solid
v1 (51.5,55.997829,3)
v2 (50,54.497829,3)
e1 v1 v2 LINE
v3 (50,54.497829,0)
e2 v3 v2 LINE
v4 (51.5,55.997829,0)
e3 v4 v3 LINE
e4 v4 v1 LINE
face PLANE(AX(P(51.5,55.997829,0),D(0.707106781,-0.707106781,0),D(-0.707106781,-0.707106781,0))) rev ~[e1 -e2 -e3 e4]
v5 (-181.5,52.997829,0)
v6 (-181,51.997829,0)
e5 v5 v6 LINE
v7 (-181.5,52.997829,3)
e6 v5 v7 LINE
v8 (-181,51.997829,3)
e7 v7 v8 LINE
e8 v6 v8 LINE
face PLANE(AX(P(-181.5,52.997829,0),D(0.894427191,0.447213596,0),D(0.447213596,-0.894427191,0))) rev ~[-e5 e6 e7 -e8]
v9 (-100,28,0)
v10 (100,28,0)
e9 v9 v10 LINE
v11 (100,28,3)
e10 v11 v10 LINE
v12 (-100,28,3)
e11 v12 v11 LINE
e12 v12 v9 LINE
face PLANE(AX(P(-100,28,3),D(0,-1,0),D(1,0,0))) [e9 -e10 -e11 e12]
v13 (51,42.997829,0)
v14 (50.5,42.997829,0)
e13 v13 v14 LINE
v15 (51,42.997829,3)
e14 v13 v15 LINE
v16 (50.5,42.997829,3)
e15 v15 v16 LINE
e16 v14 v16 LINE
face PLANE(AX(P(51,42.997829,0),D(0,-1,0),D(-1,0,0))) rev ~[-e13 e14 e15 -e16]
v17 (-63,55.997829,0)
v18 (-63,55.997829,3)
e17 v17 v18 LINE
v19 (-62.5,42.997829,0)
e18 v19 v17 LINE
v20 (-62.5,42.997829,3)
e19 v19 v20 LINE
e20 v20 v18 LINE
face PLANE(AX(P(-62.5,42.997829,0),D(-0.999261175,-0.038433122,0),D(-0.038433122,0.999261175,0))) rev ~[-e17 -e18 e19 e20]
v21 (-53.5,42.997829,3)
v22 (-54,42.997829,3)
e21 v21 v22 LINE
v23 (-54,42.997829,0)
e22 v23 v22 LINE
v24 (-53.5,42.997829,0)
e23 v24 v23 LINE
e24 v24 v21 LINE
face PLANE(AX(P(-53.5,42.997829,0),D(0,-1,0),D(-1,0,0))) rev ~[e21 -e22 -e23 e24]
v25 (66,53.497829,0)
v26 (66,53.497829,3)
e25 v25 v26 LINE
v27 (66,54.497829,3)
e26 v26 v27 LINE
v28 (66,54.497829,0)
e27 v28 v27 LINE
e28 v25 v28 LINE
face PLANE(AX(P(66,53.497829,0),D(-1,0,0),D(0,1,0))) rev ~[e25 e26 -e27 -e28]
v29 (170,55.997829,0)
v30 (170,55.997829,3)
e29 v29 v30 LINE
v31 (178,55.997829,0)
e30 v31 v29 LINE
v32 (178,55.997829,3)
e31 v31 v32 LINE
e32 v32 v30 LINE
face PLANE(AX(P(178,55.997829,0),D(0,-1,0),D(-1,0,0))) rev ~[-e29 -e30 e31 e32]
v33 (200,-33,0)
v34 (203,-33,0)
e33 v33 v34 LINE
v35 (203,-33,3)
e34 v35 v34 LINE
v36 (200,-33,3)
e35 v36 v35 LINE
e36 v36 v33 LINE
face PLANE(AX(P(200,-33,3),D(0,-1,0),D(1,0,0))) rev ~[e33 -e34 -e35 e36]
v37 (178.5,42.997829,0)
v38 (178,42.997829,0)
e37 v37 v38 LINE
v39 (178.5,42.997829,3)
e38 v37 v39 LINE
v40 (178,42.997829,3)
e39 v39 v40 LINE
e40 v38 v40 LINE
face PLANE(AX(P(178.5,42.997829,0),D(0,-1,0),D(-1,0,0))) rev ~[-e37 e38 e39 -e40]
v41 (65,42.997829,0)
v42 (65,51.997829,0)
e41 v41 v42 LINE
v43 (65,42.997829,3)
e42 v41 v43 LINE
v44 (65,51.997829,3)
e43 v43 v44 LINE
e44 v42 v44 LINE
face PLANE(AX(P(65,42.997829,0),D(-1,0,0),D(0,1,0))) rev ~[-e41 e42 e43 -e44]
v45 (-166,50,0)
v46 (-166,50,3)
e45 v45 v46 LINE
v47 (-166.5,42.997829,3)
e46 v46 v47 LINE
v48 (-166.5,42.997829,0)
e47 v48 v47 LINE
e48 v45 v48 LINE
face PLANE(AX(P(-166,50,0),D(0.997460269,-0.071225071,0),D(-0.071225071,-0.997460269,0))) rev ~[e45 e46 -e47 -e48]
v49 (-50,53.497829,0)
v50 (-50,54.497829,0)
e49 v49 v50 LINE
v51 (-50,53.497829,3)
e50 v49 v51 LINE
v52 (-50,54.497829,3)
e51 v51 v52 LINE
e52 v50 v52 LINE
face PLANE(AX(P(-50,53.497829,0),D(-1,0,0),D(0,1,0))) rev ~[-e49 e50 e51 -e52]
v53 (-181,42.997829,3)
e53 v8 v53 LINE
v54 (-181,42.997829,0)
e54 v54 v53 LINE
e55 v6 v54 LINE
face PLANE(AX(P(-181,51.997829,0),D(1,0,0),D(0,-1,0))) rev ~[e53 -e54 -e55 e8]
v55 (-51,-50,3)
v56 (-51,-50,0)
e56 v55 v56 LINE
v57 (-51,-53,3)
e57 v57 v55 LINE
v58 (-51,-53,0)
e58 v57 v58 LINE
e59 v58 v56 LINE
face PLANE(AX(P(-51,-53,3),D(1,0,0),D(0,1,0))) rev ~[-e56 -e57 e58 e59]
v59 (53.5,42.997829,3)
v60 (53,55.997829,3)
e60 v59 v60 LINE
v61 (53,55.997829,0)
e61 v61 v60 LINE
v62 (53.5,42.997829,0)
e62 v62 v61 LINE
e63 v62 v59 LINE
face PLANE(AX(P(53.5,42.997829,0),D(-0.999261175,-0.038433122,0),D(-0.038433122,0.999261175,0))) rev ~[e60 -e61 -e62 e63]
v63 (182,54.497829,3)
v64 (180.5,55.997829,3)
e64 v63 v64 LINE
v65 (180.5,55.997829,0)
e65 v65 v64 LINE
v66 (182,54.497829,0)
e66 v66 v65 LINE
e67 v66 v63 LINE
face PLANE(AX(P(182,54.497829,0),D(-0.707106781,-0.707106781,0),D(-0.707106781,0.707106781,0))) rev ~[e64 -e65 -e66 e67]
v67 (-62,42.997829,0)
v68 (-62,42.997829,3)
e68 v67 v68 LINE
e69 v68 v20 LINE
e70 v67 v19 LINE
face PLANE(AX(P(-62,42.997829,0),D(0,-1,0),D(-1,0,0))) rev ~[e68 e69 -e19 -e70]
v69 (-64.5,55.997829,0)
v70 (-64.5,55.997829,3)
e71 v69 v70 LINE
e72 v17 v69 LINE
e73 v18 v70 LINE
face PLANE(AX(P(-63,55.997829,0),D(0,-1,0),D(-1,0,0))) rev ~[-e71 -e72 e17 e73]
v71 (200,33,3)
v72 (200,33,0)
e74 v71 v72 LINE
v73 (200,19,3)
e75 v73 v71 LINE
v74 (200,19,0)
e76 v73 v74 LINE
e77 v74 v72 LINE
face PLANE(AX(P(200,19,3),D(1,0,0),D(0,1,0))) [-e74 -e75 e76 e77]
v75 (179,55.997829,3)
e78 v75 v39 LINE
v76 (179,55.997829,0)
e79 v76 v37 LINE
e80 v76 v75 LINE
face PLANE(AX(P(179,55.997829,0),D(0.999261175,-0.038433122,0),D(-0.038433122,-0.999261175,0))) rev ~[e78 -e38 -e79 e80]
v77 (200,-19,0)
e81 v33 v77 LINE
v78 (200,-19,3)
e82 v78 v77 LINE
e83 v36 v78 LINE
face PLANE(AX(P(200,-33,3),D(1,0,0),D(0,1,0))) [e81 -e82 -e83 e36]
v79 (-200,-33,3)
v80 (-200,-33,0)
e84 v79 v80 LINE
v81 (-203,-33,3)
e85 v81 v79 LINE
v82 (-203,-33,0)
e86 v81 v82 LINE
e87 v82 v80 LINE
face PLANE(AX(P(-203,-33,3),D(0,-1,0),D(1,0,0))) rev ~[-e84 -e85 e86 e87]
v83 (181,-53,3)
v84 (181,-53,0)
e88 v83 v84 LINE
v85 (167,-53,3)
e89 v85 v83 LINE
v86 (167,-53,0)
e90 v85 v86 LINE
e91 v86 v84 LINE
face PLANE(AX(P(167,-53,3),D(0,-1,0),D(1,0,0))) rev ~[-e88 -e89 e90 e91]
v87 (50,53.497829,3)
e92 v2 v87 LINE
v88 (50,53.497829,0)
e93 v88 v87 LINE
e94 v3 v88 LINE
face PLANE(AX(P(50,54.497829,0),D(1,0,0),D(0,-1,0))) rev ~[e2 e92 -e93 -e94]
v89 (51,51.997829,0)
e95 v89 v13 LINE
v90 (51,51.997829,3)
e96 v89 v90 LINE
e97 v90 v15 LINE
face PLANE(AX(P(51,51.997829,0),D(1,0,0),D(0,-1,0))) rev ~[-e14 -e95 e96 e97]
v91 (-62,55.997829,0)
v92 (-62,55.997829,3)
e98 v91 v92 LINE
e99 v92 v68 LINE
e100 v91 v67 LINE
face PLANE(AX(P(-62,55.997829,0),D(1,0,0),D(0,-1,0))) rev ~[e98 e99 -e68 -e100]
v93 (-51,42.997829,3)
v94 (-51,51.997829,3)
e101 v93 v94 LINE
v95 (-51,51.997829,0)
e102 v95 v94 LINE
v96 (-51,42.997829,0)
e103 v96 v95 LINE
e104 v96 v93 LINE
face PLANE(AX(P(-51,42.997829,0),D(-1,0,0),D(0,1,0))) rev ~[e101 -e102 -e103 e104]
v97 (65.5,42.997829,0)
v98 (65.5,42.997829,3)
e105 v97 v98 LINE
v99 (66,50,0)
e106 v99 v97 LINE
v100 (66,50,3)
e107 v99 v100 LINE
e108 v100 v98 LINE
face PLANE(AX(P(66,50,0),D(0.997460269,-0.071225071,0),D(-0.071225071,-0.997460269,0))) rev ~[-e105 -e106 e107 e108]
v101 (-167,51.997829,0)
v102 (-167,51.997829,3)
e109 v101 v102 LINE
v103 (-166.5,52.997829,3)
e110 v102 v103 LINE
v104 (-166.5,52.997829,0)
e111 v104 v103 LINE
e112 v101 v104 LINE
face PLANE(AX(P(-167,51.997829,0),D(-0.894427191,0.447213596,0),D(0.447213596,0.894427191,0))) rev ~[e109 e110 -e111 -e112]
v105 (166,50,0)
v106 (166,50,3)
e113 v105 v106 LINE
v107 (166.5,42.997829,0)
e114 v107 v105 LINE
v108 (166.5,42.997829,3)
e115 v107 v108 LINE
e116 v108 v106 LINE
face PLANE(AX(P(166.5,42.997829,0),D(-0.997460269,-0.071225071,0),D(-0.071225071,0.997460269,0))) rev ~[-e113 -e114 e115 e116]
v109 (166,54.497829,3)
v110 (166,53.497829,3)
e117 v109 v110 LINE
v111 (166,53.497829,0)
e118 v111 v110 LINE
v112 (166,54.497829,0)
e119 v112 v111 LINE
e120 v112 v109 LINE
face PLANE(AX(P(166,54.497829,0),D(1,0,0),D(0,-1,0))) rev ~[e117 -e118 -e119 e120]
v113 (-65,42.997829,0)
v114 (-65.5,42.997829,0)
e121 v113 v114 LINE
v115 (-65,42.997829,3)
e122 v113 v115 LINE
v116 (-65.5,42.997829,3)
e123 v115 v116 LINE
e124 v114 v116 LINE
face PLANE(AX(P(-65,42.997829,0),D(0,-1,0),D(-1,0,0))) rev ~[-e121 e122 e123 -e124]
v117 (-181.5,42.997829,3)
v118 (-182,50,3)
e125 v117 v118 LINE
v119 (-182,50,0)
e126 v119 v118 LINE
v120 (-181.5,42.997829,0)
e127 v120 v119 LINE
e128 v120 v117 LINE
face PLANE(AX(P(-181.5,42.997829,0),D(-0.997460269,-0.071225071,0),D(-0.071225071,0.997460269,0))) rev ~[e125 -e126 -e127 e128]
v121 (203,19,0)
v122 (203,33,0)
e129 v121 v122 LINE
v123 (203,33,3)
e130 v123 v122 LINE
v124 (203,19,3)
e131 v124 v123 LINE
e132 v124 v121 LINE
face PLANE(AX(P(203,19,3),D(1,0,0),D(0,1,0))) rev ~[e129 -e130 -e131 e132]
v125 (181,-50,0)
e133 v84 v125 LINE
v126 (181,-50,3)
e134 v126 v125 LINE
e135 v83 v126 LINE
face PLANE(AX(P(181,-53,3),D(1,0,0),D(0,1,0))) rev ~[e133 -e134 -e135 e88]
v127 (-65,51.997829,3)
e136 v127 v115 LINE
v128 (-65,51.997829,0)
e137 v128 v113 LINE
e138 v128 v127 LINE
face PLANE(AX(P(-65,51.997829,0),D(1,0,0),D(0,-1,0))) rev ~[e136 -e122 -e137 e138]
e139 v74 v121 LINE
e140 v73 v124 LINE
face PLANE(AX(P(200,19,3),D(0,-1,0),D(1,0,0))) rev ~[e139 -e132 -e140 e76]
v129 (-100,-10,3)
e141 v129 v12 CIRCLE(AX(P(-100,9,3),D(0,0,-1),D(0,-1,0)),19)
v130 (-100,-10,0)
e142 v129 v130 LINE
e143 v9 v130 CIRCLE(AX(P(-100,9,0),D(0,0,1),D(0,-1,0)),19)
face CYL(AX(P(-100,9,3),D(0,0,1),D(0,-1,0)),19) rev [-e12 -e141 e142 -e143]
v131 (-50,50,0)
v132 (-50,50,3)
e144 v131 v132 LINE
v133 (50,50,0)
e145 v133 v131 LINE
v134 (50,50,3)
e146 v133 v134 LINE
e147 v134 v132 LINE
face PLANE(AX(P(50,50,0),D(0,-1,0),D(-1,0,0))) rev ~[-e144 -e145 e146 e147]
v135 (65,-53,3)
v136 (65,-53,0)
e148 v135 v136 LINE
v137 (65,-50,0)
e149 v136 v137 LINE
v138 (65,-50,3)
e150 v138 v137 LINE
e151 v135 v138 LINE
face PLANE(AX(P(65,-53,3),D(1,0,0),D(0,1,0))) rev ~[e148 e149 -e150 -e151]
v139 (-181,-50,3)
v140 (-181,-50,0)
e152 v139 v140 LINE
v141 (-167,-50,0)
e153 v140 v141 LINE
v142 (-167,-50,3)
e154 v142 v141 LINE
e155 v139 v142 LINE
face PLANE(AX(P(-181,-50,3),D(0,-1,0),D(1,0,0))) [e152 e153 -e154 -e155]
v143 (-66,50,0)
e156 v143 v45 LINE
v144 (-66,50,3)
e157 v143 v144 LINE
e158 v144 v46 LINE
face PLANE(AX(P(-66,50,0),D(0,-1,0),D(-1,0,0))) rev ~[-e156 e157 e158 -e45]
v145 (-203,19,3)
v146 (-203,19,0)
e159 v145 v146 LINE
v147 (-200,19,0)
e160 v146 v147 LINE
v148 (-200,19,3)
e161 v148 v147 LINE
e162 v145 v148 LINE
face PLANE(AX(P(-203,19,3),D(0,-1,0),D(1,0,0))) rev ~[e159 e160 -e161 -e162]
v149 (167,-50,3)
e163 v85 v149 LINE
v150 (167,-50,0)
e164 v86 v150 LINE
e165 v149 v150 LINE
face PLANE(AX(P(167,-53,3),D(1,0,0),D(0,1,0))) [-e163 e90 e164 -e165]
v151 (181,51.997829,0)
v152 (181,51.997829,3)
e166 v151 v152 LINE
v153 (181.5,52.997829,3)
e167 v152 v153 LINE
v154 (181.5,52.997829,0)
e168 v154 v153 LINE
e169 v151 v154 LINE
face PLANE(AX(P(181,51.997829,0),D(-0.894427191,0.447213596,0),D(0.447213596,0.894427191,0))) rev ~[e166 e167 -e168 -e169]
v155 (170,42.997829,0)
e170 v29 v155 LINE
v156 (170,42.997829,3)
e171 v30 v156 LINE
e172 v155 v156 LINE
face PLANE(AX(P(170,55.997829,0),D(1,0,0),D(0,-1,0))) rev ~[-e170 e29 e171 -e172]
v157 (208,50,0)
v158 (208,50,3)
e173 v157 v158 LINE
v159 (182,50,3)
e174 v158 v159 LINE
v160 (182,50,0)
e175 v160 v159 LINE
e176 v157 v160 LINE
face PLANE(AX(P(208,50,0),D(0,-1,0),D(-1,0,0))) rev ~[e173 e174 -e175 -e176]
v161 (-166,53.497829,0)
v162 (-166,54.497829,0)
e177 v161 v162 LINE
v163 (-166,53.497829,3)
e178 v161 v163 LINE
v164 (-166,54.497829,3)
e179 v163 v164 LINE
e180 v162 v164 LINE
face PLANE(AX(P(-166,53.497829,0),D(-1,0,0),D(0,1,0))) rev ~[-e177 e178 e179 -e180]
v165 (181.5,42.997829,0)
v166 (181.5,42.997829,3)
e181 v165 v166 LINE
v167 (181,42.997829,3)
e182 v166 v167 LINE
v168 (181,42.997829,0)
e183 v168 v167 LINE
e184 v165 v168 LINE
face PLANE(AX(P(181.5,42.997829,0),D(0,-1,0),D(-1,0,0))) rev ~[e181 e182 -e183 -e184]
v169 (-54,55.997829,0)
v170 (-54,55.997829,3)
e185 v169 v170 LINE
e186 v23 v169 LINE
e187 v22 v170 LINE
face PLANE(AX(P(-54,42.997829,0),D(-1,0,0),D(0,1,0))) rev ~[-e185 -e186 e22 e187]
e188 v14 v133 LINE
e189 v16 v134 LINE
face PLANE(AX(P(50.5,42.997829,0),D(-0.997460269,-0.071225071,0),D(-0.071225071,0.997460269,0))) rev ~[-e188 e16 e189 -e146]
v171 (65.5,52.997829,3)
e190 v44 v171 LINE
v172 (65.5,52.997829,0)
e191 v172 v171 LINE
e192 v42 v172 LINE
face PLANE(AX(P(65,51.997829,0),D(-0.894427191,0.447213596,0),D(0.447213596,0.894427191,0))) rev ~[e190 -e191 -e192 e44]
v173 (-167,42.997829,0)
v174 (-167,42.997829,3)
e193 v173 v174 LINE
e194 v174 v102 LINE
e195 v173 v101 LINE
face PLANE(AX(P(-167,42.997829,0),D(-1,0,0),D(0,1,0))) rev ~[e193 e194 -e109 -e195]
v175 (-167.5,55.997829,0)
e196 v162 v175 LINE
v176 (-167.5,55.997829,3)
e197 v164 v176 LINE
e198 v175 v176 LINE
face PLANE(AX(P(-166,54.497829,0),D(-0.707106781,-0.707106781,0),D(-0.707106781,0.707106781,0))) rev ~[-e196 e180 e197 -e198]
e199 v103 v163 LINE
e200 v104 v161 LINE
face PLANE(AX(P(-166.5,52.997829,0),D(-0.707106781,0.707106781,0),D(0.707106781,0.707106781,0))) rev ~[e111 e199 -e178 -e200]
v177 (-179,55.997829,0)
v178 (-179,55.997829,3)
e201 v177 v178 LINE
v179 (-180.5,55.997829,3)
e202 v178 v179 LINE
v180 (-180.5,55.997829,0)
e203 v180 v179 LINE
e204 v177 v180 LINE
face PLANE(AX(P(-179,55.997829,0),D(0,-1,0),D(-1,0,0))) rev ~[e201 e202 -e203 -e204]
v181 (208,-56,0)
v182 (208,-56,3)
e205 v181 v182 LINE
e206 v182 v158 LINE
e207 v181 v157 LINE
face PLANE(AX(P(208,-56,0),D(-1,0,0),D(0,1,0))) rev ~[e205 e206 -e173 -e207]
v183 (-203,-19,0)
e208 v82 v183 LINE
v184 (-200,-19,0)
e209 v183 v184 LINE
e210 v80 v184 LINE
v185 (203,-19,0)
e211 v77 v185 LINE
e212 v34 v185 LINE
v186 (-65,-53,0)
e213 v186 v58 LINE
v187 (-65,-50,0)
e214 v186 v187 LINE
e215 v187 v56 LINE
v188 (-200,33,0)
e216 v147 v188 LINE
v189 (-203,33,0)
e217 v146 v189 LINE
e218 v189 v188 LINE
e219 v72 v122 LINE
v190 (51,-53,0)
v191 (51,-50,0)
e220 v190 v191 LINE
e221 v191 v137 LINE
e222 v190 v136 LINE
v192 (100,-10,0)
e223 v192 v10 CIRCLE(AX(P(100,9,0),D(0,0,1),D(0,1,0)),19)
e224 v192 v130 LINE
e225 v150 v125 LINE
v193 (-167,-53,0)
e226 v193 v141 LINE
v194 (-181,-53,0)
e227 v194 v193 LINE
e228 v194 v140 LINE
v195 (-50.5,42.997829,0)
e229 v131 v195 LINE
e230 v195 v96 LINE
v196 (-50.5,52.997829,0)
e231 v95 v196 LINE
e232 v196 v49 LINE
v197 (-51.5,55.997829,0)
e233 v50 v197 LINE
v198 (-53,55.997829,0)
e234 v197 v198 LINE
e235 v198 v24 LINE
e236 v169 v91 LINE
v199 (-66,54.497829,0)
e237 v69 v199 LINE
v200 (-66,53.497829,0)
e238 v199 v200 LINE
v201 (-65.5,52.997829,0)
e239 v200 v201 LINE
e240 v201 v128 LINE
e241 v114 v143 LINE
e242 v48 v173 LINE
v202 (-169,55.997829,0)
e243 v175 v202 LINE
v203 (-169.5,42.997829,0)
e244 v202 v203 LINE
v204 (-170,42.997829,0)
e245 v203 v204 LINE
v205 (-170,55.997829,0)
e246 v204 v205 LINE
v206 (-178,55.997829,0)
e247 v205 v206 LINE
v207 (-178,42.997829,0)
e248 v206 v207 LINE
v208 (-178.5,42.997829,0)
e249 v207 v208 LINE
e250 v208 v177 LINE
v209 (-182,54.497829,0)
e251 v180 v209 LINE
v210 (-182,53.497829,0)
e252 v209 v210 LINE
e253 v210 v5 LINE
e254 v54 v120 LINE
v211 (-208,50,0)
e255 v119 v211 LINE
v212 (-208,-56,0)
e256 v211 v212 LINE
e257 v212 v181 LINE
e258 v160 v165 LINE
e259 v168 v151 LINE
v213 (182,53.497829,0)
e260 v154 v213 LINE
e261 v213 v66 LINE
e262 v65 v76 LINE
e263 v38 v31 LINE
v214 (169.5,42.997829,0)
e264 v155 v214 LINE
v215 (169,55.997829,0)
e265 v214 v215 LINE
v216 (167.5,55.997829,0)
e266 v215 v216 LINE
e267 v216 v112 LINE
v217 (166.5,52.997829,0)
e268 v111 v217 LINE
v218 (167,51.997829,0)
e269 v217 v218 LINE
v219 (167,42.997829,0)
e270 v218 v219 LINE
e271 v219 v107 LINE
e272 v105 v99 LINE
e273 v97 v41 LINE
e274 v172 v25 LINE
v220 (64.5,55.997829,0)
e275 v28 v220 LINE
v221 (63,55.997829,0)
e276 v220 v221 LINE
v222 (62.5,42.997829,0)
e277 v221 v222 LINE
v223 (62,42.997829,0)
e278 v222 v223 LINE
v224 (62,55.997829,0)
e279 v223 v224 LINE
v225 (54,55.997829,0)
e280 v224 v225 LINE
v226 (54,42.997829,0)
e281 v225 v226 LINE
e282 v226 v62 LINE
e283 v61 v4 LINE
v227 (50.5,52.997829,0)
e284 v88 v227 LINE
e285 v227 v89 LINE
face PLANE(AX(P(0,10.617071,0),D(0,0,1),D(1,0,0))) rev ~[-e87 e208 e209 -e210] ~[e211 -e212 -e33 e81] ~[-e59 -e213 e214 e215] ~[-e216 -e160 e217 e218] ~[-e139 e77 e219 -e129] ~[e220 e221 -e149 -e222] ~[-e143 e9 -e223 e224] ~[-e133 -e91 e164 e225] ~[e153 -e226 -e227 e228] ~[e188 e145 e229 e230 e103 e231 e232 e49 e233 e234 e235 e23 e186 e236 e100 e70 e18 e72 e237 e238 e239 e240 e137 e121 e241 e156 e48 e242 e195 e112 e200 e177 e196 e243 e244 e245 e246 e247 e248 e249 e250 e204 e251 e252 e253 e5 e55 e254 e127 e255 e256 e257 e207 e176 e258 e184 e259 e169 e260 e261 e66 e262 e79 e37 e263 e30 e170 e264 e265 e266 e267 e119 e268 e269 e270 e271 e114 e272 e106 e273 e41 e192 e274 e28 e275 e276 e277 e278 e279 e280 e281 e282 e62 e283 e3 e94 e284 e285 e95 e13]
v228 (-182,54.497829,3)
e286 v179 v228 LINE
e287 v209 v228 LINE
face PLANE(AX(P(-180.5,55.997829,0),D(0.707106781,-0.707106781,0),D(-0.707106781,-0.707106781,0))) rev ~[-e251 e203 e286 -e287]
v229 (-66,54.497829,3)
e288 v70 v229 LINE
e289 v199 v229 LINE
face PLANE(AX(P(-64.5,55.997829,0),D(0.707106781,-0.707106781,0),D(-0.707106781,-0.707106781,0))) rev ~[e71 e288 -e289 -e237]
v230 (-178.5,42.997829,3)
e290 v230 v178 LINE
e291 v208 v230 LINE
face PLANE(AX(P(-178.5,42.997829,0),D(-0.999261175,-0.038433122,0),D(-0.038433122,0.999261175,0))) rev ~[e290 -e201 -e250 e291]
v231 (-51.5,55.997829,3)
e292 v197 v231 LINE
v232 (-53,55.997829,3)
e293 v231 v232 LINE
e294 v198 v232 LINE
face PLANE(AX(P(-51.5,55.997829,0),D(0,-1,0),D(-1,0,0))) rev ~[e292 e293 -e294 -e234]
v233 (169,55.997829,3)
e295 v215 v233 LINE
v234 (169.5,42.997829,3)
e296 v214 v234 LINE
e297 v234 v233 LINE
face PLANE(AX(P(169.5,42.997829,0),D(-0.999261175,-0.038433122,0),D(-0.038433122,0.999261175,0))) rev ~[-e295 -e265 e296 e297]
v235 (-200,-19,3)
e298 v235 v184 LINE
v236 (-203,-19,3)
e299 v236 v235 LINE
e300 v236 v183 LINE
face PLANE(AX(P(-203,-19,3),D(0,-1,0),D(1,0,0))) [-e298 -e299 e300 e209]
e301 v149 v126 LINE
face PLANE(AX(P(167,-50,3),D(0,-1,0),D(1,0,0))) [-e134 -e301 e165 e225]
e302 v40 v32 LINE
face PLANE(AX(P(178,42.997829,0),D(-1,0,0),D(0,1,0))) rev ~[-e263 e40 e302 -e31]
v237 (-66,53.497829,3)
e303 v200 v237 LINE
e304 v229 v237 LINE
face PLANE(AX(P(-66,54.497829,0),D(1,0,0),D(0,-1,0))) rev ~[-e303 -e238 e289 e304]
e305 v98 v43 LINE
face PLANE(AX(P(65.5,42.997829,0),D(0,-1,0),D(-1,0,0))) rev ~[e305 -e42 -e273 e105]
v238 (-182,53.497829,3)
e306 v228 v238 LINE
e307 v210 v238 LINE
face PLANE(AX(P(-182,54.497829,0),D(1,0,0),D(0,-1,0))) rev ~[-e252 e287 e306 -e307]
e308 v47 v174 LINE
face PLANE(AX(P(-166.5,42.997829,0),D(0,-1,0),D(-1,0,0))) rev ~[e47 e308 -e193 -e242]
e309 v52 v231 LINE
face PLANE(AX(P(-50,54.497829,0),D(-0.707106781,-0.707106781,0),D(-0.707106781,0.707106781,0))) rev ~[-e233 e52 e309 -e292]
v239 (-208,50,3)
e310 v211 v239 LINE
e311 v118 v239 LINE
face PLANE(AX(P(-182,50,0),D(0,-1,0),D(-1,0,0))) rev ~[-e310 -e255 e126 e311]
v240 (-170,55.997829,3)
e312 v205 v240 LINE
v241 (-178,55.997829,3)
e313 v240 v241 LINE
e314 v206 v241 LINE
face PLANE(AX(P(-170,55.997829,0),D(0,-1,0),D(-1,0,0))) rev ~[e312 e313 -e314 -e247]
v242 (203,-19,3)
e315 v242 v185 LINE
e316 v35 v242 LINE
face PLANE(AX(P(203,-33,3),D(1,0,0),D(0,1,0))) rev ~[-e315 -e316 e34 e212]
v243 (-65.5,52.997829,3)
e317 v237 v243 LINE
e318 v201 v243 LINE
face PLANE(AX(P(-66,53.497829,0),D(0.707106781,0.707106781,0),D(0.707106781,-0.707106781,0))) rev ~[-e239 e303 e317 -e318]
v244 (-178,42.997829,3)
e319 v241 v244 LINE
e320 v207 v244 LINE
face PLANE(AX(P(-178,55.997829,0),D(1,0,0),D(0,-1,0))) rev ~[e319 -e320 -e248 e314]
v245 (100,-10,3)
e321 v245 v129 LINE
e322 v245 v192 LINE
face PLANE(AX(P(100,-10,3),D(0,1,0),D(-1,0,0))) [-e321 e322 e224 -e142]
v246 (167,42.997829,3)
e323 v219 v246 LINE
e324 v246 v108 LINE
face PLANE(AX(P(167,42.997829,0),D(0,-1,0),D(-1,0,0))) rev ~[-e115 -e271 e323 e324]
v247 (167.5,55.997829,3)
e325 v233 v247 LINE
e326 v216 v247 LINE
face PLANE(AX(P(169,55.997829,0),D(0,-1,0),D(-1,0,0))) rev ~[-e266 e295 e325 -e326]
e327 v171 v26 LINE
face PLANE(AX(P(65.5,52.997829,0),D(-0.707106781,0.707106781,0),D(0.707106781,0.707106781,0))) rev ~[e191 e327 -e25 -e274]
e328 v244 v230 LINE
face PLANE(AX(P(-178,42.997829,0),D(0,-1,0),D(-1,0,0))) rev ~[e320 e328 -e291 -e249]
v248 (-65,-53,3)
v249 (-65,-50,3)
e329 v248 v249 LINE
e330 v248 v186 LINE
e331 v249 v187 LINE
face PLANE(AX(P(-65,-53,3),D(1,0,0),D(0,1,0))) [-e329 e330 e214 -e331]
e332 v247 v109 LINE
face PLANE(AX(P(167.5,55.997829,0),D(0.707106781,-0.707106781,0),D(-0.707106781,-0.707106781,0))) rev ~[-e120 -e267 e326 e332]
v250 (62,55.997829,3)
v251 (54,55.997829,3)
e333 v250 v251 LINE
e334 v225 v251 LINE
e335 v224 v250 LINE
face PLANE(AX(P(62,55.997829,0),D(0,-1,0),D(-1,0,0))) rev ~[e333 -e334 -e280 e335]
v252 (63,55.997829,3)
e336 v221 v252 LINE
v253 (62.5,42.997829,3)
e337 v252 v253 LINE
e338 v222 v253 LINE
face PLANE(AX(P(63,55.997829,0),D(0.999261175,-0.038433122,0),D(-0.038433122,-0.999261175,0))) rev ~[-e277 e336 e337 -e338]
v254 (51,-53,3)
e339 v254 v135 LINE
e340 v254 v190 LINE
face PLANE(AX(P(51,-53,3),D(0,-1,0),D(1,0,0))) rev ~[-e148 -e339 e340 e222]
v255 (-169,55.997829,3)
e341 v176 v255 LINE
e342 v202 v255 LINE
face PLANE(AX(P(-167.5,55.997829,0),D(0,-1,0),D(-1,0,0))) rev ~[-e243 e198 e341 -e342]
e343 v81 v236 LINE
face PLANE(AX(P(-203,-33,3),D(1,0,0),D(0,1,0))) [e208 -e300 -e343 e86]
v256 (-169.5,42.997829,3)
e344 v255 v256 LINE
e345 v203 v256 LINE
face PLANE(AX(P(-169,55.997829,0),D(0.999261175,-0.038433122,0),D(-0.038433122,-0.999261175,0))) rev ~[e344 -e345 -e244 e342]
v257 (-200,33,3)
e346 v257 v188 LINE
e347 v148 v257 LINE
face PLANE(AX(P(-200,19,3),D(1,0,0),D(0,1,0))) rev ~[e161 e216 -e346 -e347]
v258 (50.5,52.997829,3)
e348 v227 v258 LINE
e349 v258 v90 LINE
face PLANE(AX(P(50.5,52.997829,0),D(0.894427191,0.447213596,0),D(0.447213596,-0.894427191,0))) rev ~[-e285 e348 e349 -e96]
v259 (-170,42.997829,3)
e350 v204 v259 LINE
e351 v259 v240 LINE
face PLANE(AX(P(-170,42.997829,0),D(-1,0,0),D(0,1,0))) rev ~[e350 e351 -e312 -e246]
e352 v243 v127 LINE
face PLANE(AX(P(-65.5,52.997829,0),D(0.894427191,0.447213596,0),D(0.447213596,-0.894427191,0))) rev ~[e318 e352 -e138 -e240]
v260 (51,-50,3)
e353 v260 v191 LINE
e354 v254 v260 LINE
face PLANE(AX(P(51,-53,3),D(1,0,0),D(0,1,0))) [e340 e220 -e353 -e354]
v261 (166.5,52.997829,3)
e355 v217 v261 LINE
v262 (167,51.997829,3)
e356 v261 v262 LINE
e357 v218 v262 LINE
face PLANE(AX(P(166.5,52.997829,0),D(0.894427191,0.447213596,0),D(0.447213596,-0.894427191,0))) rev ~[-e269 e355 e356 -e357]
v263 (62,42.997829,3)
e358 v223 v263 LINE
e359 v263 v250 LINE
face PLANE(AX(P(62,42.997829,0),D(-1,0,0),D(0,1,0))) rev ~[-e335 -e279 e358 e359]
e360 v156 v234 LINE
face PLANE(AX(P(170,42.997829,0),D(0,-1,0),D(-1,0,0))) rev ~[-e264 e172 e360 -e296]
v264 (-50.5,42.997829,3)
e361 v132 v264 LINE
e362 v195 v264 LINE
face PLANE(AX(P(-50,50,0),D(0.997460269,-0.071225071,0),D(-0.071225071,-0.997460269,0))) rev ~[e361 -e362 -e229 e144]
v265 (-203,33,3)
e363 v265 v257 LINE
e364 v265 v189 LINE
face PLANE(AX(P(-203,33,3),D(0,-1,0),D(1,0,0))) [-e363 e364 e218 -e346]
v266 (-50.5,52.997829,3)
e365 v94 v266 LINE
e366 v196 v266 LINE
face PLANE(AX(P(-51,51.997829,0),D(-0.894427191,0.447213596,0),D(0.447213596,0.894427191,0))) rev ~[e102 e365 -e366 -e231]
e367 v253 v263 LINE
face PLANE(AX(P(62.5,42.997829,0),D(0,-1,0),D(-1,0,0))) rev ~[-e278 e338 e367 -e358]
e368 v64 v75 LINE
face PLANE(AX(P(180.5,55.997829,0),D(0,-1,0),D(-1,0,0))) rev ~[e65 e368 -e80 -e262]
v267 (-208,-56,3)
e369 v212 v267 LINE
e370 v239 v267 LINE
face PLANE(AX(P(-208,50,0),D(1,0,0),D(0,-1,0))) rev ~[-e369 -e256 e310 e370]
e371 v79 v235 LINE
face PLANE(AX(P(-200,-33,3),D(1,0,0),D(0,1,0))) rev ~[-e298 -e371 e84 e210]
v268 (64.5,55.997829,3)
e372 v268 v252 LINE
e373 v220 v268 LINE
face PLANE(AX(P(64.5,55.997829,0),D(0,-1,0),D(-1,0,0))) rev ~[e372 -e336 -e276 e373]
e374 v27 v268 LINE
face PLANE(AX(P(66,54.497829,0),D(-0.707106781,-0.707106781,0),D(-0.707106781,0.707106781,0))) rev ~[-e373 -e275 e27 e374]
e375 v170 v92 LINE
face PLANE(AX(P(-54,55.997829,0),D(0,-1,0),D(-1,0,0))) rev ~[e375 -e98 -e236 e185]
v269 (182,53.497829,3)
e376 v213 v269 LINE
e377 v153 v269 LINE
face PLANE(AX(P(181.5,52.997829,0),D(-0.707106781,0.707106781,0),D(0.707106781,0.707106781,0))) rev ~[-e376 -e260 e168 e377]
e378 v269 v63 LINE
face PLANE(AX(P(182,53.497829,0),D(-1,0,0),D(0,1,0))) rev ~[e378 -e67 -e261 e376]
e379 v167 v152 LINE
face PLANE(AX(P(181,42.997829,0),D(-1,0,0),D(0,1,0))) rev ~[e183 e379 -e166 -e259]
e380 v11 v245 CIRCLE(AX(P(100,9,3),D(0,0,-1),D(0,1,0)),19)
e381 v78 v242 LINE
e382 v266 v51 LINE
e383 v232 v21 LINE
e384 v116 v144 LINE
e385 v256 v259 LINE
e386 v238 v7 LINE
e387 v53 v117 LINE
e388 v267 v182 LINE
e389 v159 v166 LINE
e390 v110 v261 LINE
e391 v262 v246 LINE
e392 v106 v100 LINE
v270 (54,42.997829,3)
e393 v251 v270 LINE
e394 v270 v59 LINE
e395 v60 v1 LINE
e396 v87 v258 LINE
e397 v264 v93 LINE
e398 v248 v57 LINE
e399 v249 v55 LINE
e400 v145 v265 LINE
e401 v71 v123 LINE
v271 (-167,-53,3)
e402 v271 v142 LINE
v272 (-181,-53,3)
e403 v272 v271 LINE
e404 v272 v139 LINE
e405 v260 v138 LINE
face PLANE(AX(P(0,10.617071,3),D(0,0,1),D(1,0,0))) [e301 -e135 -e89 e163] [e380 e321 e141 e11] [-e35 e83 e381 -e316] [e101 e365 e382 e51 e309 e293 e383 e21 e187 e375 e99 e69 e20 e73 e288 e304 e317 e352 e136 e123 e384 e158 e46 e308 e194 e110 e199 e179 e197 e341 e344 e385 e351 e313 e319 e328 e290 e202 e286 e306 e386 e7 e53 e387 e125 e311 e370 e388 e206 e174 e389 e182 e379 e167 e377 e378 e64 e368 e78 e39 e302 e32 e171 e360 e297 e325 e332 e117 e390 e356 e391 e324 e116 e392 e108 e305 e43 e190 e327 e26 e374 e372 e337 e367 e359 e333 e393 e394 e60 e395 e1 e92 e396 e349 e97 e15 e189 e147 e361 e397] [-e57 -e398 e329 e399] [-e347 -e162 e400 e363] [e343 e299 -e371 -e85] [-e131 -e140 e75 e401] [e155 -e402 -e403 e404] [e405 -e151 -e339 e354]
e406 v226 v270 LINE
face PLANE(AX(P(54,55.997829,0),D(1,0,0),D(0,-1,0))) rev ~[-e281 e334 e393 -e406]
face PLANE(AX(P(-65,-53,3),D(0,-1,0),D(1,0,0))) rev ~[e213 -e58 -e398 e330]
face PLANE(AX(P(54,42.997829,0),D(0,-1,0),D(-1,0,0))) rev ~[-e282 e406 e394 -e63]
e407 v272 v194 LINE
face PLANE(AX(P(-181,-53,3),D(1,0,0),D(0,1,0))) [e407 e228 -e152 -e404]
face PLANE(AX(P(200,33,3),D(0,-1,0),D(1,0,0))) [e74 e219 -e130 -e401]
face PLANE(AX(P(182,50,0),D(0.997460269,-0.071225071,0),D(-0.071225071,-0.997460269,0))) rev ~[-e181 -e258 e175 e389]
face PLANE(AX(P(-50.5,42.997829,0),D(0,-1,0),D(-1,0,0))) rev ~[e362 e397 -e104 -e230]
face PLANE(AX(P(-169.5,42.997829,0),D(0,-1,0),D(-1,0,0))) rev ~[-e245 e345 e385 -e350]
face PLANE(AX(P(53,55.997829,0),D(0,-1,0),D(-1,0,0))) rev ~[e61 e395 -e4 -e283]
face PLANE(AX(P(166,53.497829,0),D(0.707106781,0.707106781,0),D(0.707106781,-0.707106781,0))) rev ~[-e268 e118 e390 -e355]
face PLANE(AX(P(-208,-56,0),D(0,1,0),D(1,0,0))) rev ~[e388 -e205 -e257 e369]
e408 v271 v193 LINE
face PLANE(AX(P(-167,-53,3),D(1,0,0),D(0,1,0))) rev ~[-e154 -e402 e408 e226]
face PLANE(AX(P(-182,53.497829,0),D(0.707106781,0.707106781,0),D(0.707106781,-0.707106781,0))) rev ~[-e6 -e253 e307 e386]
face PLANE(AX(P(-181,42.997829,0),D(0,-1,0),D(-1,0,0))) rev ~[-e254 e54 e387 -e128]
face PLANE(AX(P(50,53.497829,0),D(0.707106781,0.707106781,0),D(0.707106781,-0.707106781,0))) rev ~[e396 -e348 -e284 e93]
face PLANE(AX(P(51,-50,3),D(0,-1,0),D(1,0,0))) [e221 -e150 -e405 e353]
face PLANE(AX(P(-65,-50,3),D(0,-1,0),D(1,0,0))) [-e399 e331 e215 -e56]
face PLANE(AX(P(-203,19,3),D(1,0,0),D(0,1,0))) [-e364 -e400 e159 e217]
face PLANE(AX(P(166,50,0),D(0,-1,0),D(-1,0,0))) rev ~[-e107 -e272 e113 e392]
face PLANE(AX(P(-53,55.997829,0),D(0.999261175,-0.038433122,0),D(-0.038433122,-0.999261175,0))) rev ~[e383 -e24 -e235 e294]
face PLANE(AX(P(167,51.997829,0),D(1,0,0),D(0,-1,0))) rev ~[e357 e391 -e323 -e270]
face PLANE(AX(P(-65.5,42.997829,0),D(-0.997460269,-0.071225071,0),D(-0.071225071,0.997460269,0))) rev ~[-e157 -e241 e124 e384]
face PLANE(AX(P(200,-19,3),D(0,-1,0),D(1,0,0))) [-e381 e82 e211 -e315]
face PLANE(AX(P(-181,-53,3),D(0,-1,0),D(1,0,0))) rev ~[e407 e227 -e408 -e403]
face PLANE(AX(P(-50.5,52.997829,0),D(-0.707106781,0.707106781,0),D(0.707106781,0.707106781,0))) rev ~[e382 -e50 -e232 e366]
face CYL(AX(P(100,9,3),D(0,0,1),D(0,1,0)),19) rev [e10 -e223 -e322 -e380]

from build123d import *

# Parameters (mm, degrees)
BOSS_EXTRUDE1_DEPTH = 3
CUT_EXTRUDE2_DEPTH  = 4
SKETCH8_W           = 14
SKETCH8_H           = 3
CUT_EXTRUDE3_DEPTH  = 3
SKETCH9_W           = 3
SKETCH9_H           = 14
CUT_EXTRUDE4_DEPTH  = 3


with BuildPart() as part:
    # Sketch1 → Boss-Extrude1 (new body)
    with BuildSketch(Plane.XY):
        Polygon((208, 50), (182, 50), (181.5, 42.997828908), (181, 42.997828908), (181, 51.997828908), (181.5, 52.997828908), (182, 53.497828908), (182, 54.497828908), (180.5, 55.997828908), (179, 55.997828908), (178.5, 42.997828908), (178, 42.997828908), (178, 55.997828908), (170, 55.997828908), (170, 42.997828908), (169.5, 42.997828908), (169, 55.997828908), (167.5, 55.997828908), (166, 54.497828908), (166, 53.497828908), (166.5, 52.997828908), (167, 51.997828908), (167, 42.997828908), (166.5, 42.997828908), (166, 50), (66, 50), (65.5, 42.997828908), (65, 42.997828908), (65, 51.997828908), (65.5, 52.997828908), (66, 53.497828908), (66, 54.497828908), (64.5, 55.997828908), (63, 55.997828908), (62.5, 42.997828908), (62, 42.997828908), (62, 55.997828908), (54, 55.997828908), (54, 42.997828908), (53.5, 42.997828908), (53, 55.997828908), (51.5, 55.997828908), (50, 54.497828908), (50, 53.497828908), (50.5, 52.997828908), (51, 51.997828908), (51, 42.997828908), (50.5, 42.997828908), (50, 50), (-50, 50), (-50.5, 42.997828908), (-51, 42.997828908), (-51, 51.997828908), (-50.5, 52.997828908), (-50, 53.497828908), (-50, 54.497828908), (-51.5, 55.997828908), (-53, 55.997828908), (-53.5, 42.997828908), (-54, 42.997828908), (-54, 55.997828908), (-62, 55.997828908), (-62, 42.997828908), (-62.5, 42.997828908), (-63, 55.997828908), (-64.5, 55.997828908), (-66, 54.497828908), (-66, 53.497828908), (-65.5, 52.997828908), (-65, 51.997828908), (-65, 42.997828908), (-65.5, 42.997828908), (-66, 50), (-166, 50), (-166.5, 42.997828908), (-167, 42.997828908), (-167, 51.997828908), (-166.5, 52.997828908), (-166, 53.497828908), (-166, 54.497828908), (-167.5, 55.997828908), (-169, 55.997828908), (-169.5, 42.997828908), (-170, 42.997828908), (-170, 55.997828908), (-178, 55.997828908), (-178, 42.997828908), (-178.5, 42.997828908), (-179, 55.997828908), (-180.5, 55.997828908), (-182, 54.497828908), (-182, 53.497828908), (-181.5, 52.997828908), (-181, 51.997828908), (-181, 42.997828908), (-181.5, 42.997828908), (-182, 50), (-208, 50), (-208, -56), (208, -56), align=None)
    extrude(amount=BOSS_EXTRUDE1_DEPTH)

    # Sketch4 → Cut-Extrude2 (cut, through all)
    with BuildSketch(Plane.XY.offset(3)):
        with BuildLine():
            Line((-100, 28), (100, 28))
            ThreePointArc((100, 28), (119, 9), (100, -10))
            Line((100, -10), (-100, -10))
            ThreePointArc((-100, -10), (-119, 9), (-100, 28))
        make_face()
    extrude(amount=-CUT_EXTRUDE2_DEPTH, mode=Mode.SUBTRACT)

    # Sketch8 → Cut-Extrude3 (cut)
    with BuildSketch(Plane.XY.offset(3)):
        with Locations((174, -51.5)):
            Rectangle(SKETCH8_W, SKETCH8_H)
        with Locations((-174, -51.5)):
            Rectangle(SKETCH8_W, SKETCH8_H)
        with Locations((58, -51.5)):
            Rectangle(SKETCH8_W, SKETCH8_H)
        with Locations((-58, -51.5)):
            Rectangle(SKETCH8_W, SKETCH8_H)
    extrude(amount=-CUT_EXTRUDE3_DEPTH, mode=Mode.SUBTRACT)

    # Sketch9 → Cut-Extrude4 (cut)
    with BuildSketch(Plane.XY.offset(3)):
        with Locations((201.5, 26)):
            Rectangle(SKETCH9_W, SKETCH9_H)
        with Locations((-201.5, 26)):
            Rectangle(SKETCH9_W, SKETCH9_H)
        with Locations((-201.5, -26)):
            Rectangle(SKETCH9_W, SKETCH9_H)
        with Locations((201.5, -26)):
            Rectangle(SKETCH9_W, SKETCH9_H)
    extrude(amount=-CUT_EXTRUDE4_DEPTH, mode=Mode.SUBTRACT)


solid = part.part
